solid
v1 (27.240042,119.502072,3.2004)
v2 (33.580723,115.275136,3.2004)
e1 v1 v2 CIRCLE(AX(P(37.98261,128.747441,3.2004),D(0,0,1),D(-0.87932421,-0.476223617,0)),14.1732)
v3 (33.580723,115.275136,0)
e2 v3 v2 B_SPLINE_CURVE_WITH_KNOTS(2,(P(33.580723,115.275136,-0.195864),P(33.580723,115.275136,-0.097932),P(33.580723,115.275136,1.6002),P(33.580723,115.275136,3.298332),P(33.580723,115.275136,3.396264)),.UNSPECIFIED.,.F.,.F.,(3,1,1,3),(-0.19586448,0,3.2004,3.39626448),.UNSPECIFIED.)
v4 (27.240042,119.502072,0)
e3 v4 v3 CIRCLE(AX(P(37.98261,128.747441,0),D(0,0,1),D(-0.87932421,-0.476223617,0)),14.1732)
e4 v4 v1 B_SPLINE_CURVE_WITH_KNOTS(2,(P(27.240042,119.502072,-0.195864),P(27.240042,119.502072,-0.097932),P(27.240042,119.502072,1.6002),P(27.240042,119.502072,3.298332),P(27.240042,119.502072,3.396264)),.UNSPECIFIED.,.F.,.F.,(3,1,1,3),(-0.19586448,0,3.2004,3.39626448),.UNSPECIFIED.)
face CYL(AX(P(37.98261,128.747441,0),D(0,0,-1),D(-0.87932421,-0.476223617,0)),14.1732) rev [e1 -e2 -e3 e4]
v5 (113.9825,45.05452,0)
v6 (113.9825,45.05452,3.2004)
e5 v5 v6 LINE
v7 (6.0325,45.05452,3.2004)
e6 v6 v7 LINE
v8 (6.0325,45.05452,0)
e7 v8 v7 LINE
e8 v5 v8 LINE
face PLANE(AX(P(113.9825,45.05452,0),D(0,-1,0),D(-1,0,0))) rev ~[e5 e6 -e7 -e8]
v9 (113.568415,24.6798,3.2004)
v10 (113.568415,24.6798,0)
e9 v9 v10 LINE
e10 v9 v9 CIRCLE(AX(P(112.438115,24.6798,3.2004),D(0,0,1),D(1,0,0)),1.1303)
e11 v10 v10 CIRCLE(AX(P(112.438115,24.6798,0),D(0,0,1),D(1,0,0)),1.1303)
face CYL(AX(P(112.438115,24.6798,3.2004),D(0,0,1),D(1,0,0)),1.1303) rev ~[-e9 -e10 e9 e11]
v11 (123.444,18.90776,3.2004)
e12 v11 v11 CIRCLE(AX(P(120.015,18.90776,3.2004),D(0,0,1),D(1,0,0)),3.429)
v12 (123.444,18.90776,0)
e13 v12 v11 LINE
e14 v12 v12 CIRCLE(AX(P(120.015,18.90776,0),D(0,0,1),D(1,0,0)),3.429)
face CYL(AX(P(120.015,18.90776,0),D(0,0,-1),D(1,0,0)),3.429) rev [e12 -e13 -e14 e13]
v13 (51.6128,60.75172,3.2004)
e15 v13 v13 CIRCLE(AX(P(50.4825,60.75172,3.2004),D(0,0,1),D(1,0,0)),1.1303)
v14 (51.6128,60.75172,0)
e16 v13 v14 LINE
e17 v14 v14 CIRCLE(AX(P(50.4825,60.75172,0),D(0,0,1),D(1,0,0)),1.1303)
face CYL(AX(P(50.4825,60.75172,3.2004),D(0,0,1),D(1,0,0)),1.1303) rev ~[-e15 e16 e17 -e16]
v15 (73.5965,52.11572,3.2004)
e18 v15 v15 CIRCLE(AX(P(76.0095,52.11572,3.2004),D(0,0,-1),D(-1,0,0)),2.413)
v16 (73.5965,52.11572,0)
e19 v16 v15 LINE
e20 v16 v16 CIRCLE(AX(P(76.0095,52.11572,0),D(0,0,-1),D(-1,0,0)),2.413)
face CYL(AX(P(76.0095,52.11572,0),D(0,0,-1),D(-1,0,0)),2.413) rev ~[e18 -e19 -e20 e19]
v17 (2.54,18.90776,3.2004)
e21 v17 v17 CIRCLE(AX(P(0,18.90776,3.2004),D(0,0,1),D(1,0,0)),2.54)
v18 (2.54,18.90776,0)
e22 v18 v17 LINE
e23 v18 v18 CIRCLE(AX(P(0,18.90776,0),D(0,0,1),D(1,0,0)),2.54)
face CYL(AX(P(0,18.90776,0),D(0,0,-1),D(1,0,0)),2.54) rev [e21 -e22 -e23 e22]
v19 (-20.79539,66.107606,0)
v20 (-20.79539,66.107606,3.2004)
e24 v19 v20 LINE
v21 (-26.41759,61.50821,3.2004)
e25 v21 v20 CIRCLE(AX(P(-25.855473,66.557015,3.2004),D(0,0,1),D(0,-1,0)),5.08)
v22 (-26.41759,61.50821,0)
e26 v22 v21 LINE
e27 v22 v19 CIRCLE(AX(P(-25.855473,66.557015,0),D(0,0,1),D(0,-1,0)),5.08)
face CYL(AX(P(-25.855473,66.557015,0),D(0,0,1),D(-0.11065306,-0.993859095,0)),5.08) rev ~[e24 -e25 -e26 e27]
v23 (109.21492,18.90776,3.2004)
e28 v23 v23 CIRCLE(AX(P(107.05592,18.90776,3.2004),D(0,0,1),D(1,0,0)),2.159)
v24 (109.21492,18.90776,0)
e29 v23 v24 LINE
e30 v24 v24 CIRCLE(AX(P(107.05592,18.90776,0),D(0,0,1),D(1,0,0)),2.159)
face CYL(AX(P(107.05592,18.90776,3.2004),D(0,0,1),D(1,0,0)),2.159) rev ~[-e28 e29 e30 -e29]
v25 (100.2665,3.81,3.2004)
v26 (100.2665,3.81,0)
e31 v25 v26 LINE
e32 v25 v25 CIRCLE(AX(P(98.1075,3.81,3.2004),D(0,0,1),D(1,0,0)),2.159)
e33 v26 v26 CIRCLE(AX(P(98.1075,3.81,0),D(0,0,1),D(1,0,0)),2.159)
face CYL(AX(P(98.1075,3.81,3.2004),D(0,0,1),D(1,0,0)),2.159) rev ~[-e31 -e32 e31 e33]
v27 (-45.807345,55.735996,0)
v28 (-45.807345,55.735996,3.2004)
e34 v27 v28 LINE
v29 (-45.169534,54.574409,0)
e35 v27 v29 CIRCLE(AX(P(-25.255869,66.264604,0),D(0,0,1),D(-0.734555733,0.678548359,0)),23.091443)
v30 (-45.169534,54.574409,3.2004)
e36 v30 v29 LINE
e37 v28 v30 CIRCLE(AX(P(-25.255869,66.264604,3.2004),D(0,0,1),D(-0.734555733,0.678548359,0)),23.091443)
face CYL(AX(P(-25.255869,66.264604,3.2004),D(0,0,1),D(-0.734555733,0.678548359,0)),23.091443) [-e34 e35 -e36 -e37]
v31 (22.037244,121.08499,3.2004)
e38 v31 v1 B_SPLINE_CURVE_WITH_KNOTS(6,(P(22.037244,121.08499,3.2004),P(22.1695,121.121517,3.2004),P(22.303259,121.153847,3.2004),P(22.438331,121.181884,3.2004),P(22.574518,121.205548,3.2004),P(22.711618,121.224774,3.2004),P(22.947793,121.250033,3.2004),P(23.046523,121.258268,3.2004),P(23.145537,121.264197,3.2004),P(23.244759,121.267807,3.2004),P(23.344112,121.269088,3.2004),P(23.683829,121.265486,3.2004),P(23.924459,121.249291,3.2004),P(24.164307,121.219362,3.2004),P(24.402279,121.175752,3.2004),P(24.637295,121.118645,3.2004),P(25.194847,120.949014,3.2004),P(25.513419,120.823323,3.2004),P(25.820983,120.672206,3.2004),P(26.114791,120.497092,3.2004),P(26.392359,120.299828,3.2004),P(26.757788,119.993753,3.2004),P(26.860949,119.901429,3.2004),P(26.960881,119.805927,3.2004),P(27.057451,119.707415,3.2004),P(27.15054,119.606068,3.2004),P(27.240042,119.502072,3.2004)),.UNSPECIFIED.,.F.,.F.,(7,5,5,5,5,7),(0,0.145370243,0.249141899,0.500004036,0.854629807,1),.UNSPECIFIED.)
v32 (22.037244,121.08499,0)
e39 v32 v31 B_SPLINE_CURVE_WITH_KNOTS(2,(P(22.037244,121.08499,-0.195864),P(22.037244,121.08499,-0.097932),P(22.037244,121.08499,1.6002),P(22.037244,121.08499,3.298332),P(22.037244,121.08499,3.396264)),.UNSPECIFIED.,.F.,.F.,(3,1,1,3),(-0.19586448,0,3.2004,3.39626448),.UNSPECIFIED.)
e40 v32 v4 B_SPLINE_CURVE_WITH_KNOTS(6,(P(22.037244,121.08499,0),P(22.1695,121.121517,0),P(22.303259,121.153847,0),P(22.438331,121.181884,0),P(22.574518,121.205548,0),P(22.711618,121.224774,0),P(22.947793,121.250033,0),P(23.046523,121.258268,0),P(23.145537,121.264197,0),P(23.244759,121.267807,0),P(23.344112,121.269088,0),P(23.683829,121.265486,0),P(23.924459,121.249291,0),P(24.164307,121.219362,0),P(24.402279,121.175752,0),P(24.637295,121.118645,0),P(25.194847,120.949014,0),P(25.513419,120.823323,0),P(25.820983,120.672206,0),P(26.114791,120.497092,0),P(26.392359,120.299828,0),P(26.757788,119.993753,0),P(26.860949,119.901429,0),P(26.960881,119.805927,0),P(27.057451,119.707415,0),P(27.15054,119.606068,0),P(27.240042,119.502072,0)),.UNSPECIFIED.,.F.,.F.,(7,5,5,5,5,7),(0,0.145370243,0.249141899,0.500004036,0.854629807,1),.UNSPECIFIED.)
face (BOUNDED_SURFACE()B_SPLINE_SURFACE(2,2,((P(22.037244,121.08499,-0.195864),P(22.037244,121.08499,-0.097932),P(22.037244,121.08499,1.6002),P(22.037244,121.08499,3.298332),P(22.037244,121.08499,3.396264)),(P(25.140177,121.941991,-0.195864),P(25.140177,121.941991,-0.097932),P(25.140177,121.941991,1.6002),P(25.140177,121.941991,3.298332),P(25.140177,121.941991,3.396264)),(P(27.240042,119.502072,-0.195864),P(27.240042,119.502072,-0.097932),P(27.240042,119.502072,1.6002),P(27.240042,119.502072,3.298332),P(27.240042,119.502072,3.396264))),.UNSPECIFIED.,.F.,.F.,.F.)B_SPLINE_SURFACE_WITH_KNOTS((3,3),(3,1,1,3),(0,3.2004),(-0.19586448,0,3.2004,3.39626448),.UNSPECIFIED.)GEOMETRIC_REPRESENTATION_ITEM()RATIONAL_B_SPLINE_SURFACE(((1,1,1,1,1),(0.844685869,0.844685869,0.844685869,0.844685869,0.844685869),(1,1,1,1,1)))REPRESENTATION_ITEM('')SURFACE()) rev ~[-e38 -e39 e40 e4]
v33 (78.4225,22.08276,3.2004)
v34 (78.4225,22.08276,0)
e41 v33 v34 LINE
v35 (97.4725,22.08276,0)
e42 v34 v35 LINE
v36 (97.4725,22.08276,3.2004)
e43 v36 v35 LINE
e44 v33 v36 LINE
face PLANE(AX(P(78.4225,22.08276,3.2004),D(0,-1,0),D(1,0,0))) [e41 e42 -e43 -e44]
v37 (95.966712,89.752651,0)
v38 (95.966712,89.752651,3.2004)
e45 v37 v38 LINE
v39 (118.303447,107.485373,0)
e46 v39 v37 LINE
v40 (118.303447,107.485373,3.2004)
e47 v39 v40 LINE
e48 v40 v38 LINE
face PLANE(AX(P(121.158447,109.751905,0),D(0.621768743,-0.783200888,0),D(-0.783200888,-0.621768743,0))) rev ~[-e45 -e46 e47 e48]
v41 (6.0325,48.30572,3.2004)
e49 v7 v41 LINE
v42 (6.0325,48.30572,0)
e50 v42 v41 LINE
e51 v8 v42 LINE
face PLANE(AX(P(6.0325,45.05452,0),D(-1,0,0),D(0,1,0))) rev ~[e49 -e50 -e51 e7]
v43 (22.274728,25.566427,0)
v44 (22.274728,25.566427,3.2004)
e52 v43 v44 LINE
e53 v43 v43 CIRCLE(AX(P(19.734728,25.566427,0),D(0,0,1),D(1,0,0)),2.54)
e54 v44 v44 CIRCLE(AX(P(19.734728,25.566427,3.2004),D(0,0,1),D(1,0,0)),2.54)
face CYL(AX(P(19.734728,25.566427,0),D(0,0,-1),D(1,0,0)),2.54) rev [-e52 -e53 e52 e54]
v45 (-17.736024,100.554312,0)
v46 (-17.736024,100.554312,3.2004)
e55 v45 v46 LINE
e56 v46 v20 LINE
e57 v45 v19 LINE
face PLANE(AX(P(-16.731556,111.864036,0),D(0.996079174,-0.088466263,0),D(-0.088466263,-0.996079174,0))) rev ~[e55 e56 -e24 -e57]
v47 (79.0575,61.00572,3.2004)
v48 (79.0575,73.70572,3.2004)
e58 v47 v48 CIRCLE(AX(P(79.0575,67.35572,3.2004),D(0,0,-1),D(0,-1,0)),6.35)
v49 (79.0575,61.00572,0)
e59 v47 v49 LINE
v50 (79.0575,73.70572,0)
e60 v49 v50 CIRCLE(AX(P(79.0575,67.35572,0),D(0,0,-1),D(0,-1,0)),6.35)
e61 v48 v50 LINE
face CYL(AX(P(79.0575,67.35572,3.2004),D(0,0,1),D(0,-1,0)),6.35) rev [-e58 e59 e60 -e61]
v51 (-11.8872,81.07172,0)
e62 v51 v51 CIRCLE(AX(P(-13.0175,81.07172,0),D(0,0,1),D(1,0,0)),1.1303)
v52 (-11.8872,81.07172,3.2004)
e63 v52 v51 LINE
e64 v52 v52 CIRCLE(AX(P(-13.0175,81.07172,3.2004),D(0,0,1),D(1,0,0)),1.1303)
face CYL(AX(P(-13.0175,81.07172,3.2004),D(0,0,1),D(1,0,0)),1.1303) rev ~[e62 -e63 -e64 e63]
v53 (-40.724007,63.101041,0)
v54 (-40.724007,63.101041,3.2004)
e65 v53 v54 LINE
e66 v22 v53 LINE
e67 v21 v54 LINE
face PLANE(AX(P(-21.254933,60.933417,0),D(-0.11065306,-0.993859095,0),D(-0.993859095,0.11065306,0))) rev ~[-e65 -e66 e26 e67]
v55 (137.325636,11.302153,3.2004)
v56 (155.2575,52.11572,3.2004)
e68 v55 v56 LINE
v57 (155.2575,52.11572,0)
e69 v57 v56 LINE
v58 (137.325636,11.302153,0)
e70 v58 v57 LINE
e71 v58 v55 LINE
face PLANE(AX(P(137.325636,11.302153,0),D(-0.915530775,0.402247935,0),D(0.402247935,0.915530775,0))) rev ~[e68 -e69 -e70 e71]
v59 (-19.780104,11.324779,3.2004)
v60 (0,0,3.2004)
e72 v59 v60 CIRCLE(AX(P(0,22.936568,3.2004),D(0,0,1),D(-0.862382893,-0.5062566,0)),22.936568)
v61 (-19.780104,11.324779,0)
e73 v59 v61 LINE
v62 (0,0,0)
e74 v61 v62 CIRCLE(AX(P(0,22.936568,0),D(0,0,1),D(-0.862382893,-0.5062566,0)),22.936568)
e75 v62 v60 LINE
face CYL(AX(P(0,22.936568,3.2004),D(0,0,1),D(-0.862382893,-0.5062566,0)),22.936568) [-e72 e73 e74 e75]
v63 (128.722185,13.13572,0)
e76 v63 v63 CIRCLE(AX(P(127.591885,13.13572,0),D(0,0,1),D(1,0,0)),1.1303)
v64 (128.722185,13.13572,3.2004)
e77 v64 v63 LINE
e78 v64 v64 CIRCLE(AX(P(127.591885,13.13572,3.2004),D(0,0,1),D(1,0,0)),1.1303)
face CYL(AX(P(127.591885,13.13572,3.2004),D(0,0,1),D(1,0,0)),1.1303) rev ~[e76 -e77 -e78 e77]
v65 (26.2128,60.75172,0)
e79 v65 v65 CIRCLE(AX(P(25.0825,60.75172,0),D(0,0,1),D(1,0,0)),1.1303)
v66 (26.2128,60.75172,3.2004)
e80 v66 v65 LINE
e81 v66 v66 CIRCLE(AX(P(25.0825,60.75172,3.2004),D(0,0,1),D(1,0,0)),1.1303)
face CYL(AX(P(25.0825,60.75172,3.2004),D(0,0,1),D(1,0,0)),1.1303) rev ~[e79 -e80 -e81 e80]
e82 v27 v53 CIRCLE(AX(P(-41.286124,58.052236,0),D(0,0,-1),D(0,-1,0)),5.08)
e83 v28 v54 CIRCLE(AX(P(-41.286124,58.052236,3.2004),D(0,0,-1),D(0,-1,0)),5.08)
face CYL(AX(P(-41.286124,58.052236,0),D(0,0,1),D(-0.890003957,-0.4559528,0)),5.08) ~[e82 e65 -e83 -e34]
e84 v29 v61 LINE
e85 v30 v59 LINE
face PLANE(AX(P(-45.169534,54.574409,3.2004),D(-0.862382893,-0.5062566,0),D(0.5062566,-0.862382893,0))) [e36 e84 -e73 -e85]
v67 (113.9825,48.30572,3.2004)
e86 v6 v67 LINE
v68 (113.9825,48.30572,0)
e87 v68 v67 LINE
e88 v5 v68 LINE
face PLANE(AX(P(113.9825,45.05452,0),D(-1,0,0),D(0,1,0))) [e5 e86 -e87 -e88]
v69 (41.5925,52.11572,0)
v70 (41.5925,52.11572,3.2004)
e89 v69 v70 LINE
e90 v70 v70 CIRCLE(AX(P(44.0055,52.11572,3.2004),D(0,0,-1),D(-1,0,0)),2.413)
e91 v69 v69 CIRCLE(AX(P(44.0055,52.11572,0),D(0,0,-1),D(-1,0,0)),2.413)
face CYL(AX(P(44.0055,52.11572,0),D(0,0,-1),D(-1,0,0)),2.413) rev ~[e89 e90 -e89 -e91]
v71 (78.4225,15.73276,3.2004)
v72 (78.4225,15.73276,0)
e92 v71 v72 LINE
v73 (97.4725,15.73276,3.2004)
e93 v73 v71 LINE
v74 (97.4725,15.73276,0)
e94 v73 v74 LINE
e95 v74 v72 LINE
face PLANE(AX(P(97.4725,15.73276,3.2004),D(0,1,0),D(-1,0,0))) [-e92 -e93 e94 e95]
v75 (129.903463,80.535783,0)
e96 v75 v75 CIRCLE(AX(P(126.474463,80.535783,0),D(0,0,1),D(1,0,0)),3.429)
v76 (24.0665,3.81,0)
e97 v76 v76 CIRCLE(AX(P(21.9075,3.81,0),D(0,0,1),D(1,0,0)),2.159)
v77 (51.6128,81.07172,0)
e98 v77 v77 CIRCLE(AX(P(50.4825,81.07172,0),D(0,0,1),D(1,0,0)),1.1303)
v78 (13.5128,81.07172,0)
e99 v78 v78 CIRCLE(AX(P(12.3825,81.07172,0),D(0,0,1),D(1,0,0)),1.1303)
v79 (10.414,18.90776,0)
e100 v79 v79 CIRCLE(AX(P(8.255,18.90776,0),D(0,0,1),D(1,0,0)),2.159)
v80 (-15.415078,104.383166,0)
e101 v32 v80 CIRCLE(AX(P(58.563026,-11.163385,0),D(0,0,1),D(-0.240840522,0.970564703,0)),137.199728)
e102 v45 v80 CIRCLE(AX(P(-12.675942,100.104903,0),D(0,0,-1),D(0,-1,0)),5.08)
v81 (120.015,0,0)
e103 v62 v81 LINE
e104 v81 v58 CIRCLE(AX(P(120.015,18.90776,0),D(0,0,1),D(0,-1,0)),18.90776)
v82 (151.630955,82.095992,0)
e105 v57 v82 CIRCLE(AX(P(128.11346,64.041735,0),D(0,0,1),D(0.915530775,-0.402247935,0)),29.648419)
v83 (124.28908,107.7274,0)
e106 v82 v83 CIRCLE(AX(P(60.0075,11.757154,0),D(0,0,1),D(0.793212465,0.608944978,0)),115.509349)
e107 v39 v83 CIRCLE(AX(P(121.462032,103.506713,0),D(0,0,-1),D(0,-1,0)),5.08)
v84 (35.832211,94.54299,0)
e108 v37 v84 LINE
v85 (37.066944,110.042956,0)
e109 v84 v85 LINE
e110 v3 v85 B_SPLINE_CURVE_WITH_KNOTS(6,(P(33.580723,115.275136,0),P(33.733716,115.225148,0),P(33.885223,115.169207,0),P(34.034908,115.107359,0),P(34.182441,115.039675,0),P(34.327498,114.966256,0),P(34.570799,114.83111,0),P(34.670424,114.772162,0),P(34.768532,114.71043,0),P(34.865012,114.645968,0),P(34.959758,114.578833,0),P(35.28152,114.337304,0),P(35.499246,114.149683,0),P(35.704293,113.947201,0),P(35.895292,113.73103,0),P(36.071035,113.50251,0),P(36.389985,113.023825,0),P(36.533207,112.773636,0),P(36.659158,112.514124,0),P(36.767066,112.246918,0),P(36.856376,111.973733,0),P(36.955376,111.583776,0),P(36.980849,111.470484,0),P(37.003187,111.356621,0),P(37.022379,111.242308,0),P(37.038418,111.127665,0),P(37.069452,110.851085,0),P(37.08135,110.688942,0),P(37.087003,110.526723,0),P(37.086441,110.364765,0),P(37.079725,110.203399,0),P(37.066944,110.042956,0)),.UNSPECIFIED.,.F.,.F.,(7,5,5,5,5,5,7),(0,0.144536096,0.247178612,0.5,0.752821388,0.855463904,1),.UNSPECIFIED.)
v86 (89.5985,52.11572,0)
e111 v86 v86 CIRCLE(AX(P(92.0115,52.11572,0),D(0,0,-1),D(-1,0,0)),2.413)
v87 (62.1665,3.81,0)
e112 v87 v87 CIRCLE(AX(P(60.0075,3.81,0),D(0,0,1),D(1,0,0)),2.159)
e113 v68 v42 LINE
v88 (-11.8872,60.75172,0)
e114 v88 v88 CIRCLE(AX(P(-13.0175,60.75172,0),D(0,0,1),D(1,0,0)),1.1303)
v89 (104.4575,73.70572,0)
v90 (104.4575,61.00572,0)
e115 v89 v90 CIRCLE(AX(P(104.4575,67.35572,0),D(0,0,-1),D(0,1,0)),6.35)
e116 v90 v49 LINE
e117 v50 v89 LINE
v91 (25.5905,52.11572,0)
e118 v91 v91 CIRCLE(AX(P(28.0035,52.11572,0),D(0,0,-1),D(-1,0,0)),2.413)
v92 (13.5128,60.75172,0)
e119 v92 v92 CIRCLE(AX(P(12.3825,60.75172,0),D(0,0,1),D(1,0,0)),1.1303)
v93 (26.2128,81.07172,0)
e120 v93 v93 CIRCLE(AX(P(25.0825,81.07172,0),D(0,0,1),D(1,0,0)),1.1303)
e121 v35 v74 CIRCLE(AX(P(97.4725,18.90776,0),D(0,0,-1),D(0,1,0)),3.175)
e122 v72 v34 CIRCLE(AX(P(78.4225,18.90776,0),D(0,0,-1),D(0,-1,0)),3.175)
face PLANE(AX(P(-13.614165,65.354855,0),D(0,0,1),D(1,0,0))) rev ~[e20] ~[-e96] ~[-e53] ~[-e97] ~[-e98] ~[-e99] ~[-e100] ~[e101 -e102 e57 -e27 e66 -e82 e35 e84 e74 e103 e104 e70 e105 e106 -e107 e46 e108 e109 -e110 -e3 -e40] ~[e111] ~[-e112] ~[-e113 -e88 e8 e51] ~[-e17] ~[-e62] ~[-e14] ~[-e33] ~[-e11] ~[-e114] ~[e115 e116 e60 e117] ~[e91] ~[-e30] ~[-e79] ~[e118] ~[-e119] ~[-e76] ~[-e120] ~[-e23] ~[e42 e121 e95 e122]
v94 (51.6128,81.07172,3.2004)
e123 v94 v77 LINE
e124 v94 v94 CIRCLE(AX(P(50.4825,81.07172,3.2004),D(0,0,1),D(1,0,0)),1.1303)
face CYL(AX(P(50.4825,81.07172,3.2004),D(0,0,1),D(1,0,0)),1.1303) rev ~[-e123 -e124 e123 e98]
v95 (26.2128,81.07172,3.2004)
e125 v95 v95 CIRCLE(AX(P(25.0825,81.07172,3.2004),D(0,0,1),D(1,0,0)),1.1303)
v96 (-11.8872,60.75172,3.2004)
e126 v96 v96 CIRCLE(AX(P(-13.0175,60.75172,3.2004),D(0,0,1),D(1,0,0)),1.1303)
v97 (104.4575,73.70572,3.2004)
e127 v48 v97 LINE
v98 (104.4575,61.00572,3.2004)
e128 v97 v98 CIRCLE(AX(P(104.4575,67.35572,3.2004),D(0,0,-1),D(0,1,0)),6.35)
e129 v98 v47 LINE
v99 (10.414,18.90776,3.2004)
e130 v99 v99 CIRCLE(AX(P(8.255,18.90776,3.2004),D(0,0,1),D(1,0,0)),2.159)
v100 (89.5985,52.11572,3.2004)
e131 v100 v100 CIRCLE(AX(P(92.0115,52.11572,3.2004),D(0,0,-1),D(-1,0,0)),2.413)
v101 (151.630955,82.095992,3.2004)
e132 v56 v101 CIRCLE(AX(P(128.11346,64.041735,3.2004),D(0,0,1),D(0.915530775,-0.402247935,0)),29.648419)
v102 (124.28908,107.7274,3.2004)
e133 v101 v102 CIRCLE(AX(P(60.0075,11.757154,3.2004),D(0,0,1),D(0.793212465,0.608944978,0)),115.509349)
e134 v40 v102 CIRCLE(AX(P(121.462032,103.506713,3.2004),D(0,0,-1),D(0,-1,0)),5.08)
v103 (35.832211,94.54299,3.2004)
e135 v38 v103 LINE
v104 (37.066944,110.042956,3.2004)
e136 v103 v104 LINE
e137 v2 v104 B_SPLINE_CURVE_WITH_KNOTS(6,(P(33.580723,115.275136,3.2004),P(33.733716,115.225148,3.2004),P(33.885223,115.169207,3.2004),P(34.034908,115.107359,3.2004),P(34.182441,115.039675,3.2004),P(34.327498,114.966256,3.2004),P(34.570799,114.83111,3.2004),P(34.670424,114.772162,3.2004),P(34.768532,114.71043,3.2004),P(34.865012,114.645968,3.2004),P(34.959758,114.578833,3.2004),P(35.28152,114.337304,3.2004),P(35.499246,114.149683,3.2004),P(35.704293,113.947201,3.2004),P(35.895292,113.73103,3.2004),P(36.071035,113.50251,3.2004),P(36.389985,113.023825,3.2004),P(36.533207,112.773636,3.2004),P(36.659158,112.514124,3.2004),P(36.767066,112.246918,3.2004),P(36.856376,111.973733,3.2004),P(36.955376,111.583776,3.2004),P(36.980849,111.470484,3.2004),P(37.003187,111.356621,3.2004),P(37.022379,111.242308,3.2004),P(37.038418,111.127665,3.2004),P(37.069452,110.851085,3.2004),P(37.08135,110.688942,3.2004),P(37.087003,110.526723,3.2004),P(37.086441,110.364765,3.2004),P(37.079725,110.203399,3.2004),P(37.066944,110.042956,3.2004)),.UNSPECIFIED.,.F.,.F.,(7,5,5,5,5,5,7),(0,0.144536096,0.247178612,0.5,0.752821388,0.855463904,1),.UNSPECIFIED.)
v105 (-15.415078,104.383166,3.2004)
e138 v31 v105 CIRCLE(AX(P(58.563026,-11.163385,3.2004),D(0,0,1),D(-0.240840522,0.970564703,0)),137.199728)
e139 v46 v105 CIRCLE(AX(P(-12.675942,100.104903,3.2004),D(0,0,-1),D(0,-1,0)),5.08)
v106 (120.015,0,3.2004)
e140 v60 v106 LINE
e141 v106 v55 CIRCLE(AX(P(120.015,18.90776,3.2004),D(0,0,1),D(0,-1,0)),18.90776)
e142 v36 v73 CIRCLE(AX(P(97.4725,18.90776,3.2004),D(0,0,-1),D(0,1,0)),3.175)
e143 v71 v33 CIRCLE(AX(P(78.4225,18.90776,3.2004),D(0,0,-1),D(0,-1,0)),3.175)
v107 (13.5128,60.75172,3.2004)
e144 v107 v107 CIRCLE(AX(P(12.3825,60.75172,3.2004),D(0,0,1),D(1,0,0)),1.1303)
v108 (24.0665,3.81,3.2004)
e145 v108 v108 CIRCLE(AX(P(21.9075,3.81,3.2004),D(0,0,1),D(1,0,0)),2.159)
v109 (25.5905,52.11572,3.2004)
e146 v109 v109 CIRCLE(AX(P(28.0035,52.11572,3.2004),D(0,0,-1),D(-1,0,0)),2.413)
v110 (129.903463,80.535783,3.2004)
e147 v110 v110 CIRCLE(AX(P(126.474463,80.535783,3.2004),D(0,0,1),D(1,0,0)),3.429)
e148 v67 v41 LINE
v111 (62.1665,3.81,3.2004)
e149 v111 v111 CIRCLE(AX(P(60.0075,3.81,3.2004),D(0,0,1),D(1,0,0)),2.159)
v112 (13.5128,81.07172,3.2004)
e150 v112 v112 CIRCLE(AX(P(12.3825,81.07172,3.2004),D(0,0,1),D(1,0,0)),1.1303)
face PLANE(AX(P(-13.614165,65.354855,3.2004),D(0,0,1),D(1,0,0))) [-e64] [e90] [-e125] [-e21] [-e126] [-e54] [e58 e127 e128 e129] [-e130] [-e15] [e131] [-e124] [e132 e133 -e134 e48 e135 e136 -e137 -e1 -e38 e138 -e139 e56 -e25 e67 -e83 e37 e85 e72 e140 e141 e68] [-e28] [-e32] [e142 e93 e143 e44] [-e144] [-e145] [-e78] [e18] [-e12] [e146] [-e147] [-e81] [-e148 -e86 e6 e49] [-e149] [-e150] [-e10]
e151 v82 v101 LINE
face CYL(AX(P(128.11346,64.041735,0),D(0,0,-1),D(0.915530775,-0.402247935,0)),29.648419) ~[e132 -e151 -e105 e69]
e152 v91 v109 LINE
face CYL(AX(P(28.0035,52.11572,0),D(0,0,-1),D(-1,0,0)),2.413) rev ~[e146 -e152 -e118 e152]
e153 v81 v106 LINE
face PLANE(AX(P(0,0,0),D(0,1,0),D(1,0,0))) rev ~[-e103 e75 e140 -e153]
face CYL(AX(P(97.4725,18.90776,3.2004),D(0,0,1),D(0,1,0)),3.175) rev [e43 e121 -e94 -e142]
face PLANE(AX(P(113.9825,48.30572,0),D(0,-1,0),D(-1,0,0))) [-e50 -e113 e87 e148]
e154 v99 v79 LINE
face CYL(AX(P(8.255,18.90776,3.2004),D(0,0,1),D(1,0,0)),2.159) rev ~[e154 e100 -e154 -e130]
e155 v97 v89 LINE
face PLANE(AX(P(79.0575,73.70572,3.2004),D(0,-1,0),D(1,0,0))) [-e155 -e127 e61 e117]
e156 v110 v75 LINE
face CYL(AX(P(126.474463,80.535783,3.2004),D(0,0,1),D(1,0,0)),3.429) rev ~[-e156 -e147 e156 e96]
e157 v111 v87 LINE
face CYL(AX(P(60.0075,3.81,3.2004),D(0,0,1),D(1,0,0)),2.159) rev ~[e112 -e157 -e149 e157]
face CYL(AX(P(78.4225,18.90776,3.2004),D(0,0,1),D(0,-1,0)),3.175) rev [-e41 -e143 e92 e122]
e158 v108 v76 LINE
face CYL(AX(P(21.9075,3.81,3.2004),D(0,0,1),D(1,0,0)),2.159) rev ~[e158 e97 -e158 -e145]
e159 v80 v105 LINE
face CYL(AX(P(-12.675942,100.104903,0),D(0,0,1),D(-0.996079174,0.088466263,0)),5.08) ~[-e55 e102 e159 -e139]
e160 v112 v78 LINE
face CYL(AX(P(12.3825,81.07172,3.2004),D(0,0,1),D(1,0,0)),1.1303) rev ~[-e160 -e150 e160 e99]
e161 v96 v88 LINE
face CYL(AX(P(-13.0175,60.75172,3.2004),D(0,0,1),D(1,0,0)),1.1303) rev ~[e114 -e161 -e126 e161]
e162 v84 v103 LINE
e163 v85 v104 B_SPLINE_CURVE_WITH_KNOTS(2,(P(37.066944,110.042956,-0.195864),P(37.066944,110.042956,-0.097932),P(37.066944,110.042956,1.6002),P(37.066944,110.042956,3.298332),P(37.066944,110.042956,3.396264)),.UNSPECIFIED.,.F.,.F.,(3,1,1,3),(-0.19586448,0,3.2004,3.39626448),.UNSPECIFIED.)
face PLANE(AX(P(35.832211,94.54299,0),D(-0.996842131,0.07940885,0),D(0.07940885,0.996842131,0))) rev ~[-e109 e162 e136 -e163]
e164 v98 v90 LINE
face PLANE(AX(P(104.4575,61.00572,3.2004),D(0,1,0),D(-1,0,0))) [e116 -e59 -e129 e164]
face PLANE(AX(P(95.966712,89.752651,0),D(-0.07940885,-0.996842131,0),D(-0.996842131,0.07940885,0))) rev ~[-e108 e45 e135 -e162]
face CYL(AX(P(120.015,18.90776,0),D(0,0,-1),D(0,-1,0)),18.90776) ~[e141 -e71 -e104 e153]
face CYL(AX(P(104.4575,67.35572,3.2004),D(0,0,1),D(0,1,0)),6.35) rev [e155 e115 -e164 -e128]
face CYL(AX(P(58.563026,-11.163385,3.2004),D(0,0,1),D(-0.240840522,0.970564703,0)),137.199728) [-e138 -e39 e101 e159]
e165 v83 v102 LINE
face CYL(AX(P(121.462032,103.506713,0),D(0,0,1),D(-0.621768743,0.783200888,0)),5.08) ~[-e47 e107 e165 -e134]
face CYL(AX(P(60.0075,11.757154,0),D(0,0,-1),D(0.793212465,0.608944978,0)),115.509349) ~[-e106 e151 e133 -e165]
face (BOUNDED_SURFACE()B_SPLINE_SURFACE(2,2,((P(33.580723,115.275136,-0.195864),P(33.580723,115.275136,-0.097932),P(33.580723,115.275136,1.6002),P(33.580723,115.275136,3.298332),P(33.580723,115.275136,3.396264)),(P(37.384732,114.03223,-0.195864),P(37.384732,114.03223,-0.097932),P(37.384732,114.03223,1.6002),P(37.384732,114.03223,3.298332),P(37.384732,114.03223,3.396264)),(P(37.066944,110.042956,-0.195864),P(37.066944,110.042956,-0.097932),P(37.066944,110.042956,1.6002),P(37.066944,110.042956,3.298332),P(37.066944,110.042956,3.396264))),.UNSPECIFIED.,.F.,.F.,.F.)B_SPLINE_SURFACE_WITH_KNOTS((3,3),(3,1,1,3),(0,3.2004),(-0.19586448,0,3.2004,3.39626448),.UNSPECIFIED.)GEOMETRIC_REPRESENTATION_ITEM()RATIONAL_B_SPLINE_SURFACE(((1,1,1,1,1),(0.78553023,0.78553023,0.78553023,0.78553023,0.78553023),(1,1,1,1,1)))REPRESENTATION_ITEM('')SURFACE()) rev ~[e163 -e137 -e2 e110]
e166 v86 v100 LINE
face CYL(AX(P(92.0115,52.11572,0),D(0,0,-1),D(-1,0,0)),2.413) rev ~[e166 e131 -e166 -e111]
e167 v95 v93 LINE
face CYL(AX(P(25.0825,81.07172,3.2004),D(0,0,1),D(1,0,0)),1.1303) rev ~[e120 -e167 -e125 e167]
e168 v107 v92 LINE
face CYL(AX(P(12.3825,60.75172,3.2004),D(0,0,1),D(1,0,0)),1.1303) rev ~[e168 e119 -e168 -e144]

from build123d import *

# Parameters (mm, degrees)
SKETCH1_R           = 3.429
SKETCH1_R_2         = 2.54
BOSS_EXTRUDE1_DEPTH = 3.2004
SKETCH2_R           = 2.413
CUT_EXTRUDE1_DEPTH  = 3.2004
SKETCH3_R           = 2.159
CUT_EXTRUDE2_DEPTH  = 3.2004
SKETCH6_W           = 107.95
SKETCH6_H           = 3.2512
CUT_EXTRUDE3_DEPTH  = 3.2004
SKETCH7_R           = 3.429
CUT_EXTRUDE4_DEPTH  = 3.2004
CUT_EXTRUDE5_START  = -3.2004
CUT_EXTRUDE5_DEPTH  = 3.2004
CUT_EXTRUDE6_START  = -3.2004
CUT_EXTRUDE6_DEPTH  = 3.2004
BOSS_EXTRUDE2_DEPTH = 3.2004
SKETCH13_R          = 1.1303
CUT_EXTRUDE7_DEPTH  = 3.2004
CUT_EXTRUDE8_DEPTH  = 3.2004
FILLET1_R           = 5.08
SKETCH16_R          = 1.1303
CUT_EXTRUDE9_DEPTH  = 3.2004
SKETCH20_R          = 2.159
CUT_EXTRUDE11_DEPTH = 3.2004
CUT_EXTRUDE12_DEPTH = 3.2004
FILLET2_R           = 5.08


with BuildPart() as part:
    # Sketch1 → Boss-Extrude1 (new body)
    with BuildSketch(Plane.XY):
        with BuildLine():
            Line((0, 0), (120.015, 0))
            ThreePointArc((120.015, 0), (130.351788396, 3.075697789), (137.325636158, 11.302152592))
            Line((137.325636158, 11.302152592), (155.2575, 52.11572))
            ThreePointArc((155.2575, 52.11572), (157.54731739, 67.602183396), (151.630955452, 82.09599151))
            ThreePointArc((151.630955452, 82.09599151), (60.0075, 127.266502568), (-31.615955452, 82.09599151))
            ThreePointArc((-31.615955452, 82.09599151), (-37.53231739, 67.602183396), (-35.2425, 52.11572))
            Line((-35.2425, 52.11572), (-17.310636158, 11.302152592))
            ThreePointArc((-17.310636158, 11.302152592), (-10.336788396, 3.075697789), (0, 0))
        make_face()
        with Locations((120.015, 18.90776)):
            Circle(SKETCH1_R, mode=Mode.SUBTRACT)
        with Locations((0, 18.90776)):
            Circle(SKETCH1_R_2, mode=Mode.SUBTRACT)
        with Locations((19.734727626, 25.566426992)):
            Circle(SKETCH1_R_2, mode=Mode.SUBTRACT)
    extrude(amount=BOSS_EXTRUDE1_DEPTH)

    # Sketch2 → Cut-Extrude1 (cut)
    with BuildSketch(Plane(origin=(0, 0, 0), x_dir=(-1, 0, 0), z_dir=(0, 0, -1))):
        with Locations((-92.0115, 52.11572)):
            Circle(SKETCH2_R)
        with Locations((-76.0095, 52.11572)):
            Circle(SKETCH2_R)
        with Locations((-44.0055, 52.11572)):
            Circle(SKETCH2_R)
        with Locations((-28.0035, 52.11572)):
            Circle(SKETCH2_R)
    extrude(amount=-CUT_EXTRUDE1_DEPTH, mode=Mode.SUBTRACT)

    # Sketch3 → Cut-Extrude2 (cut)
    with BuildSketch(Plane.XY.offset(3.2004)):
        with Locations((21.9075, 3.81)):
            Circle(SKETCH3_R)
        with Locations((60.0075, 3.81)):
            Circle(SKETCH3_R)
        with Locations((98.1075, 3.81)):
            Circle(SKETCH3_R)
    extrude(amount=-CUT_EXTRUDE2_DEPTH, mode=Mode.SUBTRACT)

    # Sketch6 → Cut-Extrude3 (cut)
    with BuildSketch(Plane(origin=(0, 0, 0), x_dir=(-1, 0, 0), z_dir=(0, 0, -1))):
        with Locations((-60.0075, 46.68012)):
            Rectangle(SKETCH6_W, SKETCH6_H)
    extrude(amount=-CUT_EXTRUDE3_DEPTH, mode=Mode.SUBTRACT)

    # Sketch7 → Cut-Extrude4 (cut)
    with BuildSketch(Plane.XY.offset(3.2004)):
        with Locations((126.474462556, 80.535782848)):
            Circle(SKETCH7_R)
    extrude(amount=-CUT_EXTRUDE4_DEPTH, mode=Mode.SUBTRACT)

    # Sketch11 → Cut-Extrude5 (cut)
    with BuildSketch(Plane.XY.offset(3.2004).offset(CUT_EXTRUDE5_START)):
        with BuildLine():
            Line((121.158447362, 109.75190519), (95.966712331, 89.752651283))
            Line((95.966712331, 89.752651283), (35.832210764, 94.542990135))
            Line((35.832210764, 94.542990135), (38.27464621, 125.20358486))
            ThreePointArc((38.27464621, 125.20358486), (81.176702308, 125.310112932), (121.158447362, 109.75190519))
        make_face()
    extrude(amount=CUT_EXTRUDE5_DEPTH, mode=Mode.SUBTRACT)

    # Sketch12 → Cut-Extrude6 (cut)
    with BuildSketch(Plane.XY.offset(3.2004).offset(CUT_EXTRUDE6_START)):
        with BuildLine():
            Line((36.857132229, 114.618997738), (37.427852032, 114.573533967))
            Line((37.427852032, 114.573533967), (38.27464621, 125.20358486))
            ThreePointArc((38.27464621, 125.20358486), (31.851547204, 123.782382999), (25.51977184, 121.997828065))
            ThreePointArc((25.51977184, 121.997828065), (30.251350905, 116.868583991), (36.857132229, 114.618997738))
        make_face()
    extrude(amount=CUT_EXTRUDE6_DEPTH, mode=Mode.SUBTRACT)

    # Sketch14 → Boss-Extrude2 (add)
    with BuildSketch(Plane.XY.offset(3.2004)):
        with BuildLine():
            Line((-45.169534314, 54.57440881), (-19.78010381, 11.324779025))
            ThreePointArc((-19.78010381, 11.324779025), (-11.396305615, 3.031534227), (0, 0))
            ThreePointArc((0, 0), (-12.750544623, 66.33524155), (25.51977184, 121.997828065))
            ThreePointArc((25.51977184, 121.997828065), (-11.283339646, 106.926625279), (-42.217820701, 81.933265153))
            ThreePointArc((-42.217820701, 81.933265153), (-48.214081814, 68.741537884), (-45.169534314, 54.57440881))
        make_face()
    extrude(amount=-BOSS_EXTRUDE2_DEPTH)

    # Sketch13 → Cut-Extrude7 (cut)
    with BuildSketch(Plane.XY.offset(3.2004)):
        with Locations((50.4825, 81.07172)):
            Circle(SKETCH13_R)
        with Locations((50.4825, 60.75172)):
            Circle(SKETCH13_R)
        with Locations((25.0825, 60.75172)):
            Circle(SKETCH13_R)
        with Locations((25.0825, 81.07172)):
            Circle(SKETCH13_R)
        with Locations((12.3825, 81.07172)):
            Circle(SKETCH13_R)
        with Locations((12.3825, 60.75172)):
            Circle(SKETCH13_R)
        with Locations((-13.0175, 60.75172)):
            Circle(SKETCH13_R)
        with Locations((-13.0175, 81.07172)):
            Circle(SKETCH13_R)
    extrude(amount=-CUT_EXTRUDE7_DEPTH, mode=Mode.SUBTRACT)

    # Sketch15 → Cut-Extrude8 (cut)
    with BuildSketch(Plane.XY.offset(3.2004)):
        with BuildLine():
            Line((79.0575, 73.70572), (104.4575, 73.70572))
            ThreePointArc((104.4575, 73.70572), (110.8075, 67.35572), (104.4575, 61.00572))
            Line((104.4575, 61.00572), (79.0575, 61.00572))
            ThreePointArc((79.0575, 61.00572), (72.7075, 67.35572), (79.0575, 73.70572))
        make_face()
        with BuildLine():
            Line((78.4225, 22.08276), (97.4725, 22.08276))
            ThreePointArc((97.4725, 22.08276), (100.6475, 18.90776), (97.4725, 15.73276))
            Line((97.4725, 15.73276), (78.4225, 15.73276))
            ThreePointArc((78.4225, 15.73276), (75.2475, 18.90776), (78.4225, 22.08276))
        make_face()
    extrude(amount=-CUT_EXTRUDE8_DEPTH, mode=Mode.SUBTRACT)

    # Fillet1
    fillet1_edges = [part.edges().sort_by_distance(p)[0] for p in [
        (121.158447362, 109.75190519, 1.6002),
        (37.427852032, 114.573533967, 1.6002),
        (25.51977184, 121.997828065, 1.6002),
    ]]
    fillet(fillet1_edges, radius=FILLET1_R)

    # Sketch16 → Cut-Extrude9 (cut)
    with BuildSketch(Plane.XY.offset(3.2004)):
        with Locations((112.438115095, 24.679799513)):
            Circle(SKETCH16_R)
        with Locations((127.591884905, 13.135720487)):
            Circle(SKETCH16_R)
    extrude(amount=-CUT_EXTRUDE9_DEPTH, mode=Mode.SUBTRACT)

    # Sketch20 → Cut-Extrude11 (cut)
    with BuildSketch(Plane.XY.offset(3.2004)):
        with Locations((8.255, 18.90776)):
            Circle(SKETCH20_R)
        with Locations((107.05592, 18.90776)):
            Circle(SKETCH20_R)
    extrude(amount=-CUT_EXTRUDE11_DEPTH, mode=Mode.SUBTRACT)

    # Sketch21 → Cut-Extrude12 (cut)
    with BuildSketch(Plane(origin=(0, 0, 0), x_dir=(-1, 0, 0), z_dir=(0, 0, -1))):
        Polygon((16.731556446, 111.864036412), (21.254933404, 60.933416848), (65.105179276, 65.815561516), align=None)
    extrude(amount=-CUT_EXTRUDE12_DEPTH, mode=Mode.SUBTRACT)

    # Fillet2
    fillet2_edges = [part.edges().sort_by_distance(p)[0] for p in [
        (-48.229671102, 63.936696971, 1.6002),
        (-17.517967545, 103.009500331, 1.6002),
        (-21.254933404, 60.933416848, 1.6002),
    ]]
    fillet(fillet2_edges, radius=FILLET2_R)


solid = part.part
